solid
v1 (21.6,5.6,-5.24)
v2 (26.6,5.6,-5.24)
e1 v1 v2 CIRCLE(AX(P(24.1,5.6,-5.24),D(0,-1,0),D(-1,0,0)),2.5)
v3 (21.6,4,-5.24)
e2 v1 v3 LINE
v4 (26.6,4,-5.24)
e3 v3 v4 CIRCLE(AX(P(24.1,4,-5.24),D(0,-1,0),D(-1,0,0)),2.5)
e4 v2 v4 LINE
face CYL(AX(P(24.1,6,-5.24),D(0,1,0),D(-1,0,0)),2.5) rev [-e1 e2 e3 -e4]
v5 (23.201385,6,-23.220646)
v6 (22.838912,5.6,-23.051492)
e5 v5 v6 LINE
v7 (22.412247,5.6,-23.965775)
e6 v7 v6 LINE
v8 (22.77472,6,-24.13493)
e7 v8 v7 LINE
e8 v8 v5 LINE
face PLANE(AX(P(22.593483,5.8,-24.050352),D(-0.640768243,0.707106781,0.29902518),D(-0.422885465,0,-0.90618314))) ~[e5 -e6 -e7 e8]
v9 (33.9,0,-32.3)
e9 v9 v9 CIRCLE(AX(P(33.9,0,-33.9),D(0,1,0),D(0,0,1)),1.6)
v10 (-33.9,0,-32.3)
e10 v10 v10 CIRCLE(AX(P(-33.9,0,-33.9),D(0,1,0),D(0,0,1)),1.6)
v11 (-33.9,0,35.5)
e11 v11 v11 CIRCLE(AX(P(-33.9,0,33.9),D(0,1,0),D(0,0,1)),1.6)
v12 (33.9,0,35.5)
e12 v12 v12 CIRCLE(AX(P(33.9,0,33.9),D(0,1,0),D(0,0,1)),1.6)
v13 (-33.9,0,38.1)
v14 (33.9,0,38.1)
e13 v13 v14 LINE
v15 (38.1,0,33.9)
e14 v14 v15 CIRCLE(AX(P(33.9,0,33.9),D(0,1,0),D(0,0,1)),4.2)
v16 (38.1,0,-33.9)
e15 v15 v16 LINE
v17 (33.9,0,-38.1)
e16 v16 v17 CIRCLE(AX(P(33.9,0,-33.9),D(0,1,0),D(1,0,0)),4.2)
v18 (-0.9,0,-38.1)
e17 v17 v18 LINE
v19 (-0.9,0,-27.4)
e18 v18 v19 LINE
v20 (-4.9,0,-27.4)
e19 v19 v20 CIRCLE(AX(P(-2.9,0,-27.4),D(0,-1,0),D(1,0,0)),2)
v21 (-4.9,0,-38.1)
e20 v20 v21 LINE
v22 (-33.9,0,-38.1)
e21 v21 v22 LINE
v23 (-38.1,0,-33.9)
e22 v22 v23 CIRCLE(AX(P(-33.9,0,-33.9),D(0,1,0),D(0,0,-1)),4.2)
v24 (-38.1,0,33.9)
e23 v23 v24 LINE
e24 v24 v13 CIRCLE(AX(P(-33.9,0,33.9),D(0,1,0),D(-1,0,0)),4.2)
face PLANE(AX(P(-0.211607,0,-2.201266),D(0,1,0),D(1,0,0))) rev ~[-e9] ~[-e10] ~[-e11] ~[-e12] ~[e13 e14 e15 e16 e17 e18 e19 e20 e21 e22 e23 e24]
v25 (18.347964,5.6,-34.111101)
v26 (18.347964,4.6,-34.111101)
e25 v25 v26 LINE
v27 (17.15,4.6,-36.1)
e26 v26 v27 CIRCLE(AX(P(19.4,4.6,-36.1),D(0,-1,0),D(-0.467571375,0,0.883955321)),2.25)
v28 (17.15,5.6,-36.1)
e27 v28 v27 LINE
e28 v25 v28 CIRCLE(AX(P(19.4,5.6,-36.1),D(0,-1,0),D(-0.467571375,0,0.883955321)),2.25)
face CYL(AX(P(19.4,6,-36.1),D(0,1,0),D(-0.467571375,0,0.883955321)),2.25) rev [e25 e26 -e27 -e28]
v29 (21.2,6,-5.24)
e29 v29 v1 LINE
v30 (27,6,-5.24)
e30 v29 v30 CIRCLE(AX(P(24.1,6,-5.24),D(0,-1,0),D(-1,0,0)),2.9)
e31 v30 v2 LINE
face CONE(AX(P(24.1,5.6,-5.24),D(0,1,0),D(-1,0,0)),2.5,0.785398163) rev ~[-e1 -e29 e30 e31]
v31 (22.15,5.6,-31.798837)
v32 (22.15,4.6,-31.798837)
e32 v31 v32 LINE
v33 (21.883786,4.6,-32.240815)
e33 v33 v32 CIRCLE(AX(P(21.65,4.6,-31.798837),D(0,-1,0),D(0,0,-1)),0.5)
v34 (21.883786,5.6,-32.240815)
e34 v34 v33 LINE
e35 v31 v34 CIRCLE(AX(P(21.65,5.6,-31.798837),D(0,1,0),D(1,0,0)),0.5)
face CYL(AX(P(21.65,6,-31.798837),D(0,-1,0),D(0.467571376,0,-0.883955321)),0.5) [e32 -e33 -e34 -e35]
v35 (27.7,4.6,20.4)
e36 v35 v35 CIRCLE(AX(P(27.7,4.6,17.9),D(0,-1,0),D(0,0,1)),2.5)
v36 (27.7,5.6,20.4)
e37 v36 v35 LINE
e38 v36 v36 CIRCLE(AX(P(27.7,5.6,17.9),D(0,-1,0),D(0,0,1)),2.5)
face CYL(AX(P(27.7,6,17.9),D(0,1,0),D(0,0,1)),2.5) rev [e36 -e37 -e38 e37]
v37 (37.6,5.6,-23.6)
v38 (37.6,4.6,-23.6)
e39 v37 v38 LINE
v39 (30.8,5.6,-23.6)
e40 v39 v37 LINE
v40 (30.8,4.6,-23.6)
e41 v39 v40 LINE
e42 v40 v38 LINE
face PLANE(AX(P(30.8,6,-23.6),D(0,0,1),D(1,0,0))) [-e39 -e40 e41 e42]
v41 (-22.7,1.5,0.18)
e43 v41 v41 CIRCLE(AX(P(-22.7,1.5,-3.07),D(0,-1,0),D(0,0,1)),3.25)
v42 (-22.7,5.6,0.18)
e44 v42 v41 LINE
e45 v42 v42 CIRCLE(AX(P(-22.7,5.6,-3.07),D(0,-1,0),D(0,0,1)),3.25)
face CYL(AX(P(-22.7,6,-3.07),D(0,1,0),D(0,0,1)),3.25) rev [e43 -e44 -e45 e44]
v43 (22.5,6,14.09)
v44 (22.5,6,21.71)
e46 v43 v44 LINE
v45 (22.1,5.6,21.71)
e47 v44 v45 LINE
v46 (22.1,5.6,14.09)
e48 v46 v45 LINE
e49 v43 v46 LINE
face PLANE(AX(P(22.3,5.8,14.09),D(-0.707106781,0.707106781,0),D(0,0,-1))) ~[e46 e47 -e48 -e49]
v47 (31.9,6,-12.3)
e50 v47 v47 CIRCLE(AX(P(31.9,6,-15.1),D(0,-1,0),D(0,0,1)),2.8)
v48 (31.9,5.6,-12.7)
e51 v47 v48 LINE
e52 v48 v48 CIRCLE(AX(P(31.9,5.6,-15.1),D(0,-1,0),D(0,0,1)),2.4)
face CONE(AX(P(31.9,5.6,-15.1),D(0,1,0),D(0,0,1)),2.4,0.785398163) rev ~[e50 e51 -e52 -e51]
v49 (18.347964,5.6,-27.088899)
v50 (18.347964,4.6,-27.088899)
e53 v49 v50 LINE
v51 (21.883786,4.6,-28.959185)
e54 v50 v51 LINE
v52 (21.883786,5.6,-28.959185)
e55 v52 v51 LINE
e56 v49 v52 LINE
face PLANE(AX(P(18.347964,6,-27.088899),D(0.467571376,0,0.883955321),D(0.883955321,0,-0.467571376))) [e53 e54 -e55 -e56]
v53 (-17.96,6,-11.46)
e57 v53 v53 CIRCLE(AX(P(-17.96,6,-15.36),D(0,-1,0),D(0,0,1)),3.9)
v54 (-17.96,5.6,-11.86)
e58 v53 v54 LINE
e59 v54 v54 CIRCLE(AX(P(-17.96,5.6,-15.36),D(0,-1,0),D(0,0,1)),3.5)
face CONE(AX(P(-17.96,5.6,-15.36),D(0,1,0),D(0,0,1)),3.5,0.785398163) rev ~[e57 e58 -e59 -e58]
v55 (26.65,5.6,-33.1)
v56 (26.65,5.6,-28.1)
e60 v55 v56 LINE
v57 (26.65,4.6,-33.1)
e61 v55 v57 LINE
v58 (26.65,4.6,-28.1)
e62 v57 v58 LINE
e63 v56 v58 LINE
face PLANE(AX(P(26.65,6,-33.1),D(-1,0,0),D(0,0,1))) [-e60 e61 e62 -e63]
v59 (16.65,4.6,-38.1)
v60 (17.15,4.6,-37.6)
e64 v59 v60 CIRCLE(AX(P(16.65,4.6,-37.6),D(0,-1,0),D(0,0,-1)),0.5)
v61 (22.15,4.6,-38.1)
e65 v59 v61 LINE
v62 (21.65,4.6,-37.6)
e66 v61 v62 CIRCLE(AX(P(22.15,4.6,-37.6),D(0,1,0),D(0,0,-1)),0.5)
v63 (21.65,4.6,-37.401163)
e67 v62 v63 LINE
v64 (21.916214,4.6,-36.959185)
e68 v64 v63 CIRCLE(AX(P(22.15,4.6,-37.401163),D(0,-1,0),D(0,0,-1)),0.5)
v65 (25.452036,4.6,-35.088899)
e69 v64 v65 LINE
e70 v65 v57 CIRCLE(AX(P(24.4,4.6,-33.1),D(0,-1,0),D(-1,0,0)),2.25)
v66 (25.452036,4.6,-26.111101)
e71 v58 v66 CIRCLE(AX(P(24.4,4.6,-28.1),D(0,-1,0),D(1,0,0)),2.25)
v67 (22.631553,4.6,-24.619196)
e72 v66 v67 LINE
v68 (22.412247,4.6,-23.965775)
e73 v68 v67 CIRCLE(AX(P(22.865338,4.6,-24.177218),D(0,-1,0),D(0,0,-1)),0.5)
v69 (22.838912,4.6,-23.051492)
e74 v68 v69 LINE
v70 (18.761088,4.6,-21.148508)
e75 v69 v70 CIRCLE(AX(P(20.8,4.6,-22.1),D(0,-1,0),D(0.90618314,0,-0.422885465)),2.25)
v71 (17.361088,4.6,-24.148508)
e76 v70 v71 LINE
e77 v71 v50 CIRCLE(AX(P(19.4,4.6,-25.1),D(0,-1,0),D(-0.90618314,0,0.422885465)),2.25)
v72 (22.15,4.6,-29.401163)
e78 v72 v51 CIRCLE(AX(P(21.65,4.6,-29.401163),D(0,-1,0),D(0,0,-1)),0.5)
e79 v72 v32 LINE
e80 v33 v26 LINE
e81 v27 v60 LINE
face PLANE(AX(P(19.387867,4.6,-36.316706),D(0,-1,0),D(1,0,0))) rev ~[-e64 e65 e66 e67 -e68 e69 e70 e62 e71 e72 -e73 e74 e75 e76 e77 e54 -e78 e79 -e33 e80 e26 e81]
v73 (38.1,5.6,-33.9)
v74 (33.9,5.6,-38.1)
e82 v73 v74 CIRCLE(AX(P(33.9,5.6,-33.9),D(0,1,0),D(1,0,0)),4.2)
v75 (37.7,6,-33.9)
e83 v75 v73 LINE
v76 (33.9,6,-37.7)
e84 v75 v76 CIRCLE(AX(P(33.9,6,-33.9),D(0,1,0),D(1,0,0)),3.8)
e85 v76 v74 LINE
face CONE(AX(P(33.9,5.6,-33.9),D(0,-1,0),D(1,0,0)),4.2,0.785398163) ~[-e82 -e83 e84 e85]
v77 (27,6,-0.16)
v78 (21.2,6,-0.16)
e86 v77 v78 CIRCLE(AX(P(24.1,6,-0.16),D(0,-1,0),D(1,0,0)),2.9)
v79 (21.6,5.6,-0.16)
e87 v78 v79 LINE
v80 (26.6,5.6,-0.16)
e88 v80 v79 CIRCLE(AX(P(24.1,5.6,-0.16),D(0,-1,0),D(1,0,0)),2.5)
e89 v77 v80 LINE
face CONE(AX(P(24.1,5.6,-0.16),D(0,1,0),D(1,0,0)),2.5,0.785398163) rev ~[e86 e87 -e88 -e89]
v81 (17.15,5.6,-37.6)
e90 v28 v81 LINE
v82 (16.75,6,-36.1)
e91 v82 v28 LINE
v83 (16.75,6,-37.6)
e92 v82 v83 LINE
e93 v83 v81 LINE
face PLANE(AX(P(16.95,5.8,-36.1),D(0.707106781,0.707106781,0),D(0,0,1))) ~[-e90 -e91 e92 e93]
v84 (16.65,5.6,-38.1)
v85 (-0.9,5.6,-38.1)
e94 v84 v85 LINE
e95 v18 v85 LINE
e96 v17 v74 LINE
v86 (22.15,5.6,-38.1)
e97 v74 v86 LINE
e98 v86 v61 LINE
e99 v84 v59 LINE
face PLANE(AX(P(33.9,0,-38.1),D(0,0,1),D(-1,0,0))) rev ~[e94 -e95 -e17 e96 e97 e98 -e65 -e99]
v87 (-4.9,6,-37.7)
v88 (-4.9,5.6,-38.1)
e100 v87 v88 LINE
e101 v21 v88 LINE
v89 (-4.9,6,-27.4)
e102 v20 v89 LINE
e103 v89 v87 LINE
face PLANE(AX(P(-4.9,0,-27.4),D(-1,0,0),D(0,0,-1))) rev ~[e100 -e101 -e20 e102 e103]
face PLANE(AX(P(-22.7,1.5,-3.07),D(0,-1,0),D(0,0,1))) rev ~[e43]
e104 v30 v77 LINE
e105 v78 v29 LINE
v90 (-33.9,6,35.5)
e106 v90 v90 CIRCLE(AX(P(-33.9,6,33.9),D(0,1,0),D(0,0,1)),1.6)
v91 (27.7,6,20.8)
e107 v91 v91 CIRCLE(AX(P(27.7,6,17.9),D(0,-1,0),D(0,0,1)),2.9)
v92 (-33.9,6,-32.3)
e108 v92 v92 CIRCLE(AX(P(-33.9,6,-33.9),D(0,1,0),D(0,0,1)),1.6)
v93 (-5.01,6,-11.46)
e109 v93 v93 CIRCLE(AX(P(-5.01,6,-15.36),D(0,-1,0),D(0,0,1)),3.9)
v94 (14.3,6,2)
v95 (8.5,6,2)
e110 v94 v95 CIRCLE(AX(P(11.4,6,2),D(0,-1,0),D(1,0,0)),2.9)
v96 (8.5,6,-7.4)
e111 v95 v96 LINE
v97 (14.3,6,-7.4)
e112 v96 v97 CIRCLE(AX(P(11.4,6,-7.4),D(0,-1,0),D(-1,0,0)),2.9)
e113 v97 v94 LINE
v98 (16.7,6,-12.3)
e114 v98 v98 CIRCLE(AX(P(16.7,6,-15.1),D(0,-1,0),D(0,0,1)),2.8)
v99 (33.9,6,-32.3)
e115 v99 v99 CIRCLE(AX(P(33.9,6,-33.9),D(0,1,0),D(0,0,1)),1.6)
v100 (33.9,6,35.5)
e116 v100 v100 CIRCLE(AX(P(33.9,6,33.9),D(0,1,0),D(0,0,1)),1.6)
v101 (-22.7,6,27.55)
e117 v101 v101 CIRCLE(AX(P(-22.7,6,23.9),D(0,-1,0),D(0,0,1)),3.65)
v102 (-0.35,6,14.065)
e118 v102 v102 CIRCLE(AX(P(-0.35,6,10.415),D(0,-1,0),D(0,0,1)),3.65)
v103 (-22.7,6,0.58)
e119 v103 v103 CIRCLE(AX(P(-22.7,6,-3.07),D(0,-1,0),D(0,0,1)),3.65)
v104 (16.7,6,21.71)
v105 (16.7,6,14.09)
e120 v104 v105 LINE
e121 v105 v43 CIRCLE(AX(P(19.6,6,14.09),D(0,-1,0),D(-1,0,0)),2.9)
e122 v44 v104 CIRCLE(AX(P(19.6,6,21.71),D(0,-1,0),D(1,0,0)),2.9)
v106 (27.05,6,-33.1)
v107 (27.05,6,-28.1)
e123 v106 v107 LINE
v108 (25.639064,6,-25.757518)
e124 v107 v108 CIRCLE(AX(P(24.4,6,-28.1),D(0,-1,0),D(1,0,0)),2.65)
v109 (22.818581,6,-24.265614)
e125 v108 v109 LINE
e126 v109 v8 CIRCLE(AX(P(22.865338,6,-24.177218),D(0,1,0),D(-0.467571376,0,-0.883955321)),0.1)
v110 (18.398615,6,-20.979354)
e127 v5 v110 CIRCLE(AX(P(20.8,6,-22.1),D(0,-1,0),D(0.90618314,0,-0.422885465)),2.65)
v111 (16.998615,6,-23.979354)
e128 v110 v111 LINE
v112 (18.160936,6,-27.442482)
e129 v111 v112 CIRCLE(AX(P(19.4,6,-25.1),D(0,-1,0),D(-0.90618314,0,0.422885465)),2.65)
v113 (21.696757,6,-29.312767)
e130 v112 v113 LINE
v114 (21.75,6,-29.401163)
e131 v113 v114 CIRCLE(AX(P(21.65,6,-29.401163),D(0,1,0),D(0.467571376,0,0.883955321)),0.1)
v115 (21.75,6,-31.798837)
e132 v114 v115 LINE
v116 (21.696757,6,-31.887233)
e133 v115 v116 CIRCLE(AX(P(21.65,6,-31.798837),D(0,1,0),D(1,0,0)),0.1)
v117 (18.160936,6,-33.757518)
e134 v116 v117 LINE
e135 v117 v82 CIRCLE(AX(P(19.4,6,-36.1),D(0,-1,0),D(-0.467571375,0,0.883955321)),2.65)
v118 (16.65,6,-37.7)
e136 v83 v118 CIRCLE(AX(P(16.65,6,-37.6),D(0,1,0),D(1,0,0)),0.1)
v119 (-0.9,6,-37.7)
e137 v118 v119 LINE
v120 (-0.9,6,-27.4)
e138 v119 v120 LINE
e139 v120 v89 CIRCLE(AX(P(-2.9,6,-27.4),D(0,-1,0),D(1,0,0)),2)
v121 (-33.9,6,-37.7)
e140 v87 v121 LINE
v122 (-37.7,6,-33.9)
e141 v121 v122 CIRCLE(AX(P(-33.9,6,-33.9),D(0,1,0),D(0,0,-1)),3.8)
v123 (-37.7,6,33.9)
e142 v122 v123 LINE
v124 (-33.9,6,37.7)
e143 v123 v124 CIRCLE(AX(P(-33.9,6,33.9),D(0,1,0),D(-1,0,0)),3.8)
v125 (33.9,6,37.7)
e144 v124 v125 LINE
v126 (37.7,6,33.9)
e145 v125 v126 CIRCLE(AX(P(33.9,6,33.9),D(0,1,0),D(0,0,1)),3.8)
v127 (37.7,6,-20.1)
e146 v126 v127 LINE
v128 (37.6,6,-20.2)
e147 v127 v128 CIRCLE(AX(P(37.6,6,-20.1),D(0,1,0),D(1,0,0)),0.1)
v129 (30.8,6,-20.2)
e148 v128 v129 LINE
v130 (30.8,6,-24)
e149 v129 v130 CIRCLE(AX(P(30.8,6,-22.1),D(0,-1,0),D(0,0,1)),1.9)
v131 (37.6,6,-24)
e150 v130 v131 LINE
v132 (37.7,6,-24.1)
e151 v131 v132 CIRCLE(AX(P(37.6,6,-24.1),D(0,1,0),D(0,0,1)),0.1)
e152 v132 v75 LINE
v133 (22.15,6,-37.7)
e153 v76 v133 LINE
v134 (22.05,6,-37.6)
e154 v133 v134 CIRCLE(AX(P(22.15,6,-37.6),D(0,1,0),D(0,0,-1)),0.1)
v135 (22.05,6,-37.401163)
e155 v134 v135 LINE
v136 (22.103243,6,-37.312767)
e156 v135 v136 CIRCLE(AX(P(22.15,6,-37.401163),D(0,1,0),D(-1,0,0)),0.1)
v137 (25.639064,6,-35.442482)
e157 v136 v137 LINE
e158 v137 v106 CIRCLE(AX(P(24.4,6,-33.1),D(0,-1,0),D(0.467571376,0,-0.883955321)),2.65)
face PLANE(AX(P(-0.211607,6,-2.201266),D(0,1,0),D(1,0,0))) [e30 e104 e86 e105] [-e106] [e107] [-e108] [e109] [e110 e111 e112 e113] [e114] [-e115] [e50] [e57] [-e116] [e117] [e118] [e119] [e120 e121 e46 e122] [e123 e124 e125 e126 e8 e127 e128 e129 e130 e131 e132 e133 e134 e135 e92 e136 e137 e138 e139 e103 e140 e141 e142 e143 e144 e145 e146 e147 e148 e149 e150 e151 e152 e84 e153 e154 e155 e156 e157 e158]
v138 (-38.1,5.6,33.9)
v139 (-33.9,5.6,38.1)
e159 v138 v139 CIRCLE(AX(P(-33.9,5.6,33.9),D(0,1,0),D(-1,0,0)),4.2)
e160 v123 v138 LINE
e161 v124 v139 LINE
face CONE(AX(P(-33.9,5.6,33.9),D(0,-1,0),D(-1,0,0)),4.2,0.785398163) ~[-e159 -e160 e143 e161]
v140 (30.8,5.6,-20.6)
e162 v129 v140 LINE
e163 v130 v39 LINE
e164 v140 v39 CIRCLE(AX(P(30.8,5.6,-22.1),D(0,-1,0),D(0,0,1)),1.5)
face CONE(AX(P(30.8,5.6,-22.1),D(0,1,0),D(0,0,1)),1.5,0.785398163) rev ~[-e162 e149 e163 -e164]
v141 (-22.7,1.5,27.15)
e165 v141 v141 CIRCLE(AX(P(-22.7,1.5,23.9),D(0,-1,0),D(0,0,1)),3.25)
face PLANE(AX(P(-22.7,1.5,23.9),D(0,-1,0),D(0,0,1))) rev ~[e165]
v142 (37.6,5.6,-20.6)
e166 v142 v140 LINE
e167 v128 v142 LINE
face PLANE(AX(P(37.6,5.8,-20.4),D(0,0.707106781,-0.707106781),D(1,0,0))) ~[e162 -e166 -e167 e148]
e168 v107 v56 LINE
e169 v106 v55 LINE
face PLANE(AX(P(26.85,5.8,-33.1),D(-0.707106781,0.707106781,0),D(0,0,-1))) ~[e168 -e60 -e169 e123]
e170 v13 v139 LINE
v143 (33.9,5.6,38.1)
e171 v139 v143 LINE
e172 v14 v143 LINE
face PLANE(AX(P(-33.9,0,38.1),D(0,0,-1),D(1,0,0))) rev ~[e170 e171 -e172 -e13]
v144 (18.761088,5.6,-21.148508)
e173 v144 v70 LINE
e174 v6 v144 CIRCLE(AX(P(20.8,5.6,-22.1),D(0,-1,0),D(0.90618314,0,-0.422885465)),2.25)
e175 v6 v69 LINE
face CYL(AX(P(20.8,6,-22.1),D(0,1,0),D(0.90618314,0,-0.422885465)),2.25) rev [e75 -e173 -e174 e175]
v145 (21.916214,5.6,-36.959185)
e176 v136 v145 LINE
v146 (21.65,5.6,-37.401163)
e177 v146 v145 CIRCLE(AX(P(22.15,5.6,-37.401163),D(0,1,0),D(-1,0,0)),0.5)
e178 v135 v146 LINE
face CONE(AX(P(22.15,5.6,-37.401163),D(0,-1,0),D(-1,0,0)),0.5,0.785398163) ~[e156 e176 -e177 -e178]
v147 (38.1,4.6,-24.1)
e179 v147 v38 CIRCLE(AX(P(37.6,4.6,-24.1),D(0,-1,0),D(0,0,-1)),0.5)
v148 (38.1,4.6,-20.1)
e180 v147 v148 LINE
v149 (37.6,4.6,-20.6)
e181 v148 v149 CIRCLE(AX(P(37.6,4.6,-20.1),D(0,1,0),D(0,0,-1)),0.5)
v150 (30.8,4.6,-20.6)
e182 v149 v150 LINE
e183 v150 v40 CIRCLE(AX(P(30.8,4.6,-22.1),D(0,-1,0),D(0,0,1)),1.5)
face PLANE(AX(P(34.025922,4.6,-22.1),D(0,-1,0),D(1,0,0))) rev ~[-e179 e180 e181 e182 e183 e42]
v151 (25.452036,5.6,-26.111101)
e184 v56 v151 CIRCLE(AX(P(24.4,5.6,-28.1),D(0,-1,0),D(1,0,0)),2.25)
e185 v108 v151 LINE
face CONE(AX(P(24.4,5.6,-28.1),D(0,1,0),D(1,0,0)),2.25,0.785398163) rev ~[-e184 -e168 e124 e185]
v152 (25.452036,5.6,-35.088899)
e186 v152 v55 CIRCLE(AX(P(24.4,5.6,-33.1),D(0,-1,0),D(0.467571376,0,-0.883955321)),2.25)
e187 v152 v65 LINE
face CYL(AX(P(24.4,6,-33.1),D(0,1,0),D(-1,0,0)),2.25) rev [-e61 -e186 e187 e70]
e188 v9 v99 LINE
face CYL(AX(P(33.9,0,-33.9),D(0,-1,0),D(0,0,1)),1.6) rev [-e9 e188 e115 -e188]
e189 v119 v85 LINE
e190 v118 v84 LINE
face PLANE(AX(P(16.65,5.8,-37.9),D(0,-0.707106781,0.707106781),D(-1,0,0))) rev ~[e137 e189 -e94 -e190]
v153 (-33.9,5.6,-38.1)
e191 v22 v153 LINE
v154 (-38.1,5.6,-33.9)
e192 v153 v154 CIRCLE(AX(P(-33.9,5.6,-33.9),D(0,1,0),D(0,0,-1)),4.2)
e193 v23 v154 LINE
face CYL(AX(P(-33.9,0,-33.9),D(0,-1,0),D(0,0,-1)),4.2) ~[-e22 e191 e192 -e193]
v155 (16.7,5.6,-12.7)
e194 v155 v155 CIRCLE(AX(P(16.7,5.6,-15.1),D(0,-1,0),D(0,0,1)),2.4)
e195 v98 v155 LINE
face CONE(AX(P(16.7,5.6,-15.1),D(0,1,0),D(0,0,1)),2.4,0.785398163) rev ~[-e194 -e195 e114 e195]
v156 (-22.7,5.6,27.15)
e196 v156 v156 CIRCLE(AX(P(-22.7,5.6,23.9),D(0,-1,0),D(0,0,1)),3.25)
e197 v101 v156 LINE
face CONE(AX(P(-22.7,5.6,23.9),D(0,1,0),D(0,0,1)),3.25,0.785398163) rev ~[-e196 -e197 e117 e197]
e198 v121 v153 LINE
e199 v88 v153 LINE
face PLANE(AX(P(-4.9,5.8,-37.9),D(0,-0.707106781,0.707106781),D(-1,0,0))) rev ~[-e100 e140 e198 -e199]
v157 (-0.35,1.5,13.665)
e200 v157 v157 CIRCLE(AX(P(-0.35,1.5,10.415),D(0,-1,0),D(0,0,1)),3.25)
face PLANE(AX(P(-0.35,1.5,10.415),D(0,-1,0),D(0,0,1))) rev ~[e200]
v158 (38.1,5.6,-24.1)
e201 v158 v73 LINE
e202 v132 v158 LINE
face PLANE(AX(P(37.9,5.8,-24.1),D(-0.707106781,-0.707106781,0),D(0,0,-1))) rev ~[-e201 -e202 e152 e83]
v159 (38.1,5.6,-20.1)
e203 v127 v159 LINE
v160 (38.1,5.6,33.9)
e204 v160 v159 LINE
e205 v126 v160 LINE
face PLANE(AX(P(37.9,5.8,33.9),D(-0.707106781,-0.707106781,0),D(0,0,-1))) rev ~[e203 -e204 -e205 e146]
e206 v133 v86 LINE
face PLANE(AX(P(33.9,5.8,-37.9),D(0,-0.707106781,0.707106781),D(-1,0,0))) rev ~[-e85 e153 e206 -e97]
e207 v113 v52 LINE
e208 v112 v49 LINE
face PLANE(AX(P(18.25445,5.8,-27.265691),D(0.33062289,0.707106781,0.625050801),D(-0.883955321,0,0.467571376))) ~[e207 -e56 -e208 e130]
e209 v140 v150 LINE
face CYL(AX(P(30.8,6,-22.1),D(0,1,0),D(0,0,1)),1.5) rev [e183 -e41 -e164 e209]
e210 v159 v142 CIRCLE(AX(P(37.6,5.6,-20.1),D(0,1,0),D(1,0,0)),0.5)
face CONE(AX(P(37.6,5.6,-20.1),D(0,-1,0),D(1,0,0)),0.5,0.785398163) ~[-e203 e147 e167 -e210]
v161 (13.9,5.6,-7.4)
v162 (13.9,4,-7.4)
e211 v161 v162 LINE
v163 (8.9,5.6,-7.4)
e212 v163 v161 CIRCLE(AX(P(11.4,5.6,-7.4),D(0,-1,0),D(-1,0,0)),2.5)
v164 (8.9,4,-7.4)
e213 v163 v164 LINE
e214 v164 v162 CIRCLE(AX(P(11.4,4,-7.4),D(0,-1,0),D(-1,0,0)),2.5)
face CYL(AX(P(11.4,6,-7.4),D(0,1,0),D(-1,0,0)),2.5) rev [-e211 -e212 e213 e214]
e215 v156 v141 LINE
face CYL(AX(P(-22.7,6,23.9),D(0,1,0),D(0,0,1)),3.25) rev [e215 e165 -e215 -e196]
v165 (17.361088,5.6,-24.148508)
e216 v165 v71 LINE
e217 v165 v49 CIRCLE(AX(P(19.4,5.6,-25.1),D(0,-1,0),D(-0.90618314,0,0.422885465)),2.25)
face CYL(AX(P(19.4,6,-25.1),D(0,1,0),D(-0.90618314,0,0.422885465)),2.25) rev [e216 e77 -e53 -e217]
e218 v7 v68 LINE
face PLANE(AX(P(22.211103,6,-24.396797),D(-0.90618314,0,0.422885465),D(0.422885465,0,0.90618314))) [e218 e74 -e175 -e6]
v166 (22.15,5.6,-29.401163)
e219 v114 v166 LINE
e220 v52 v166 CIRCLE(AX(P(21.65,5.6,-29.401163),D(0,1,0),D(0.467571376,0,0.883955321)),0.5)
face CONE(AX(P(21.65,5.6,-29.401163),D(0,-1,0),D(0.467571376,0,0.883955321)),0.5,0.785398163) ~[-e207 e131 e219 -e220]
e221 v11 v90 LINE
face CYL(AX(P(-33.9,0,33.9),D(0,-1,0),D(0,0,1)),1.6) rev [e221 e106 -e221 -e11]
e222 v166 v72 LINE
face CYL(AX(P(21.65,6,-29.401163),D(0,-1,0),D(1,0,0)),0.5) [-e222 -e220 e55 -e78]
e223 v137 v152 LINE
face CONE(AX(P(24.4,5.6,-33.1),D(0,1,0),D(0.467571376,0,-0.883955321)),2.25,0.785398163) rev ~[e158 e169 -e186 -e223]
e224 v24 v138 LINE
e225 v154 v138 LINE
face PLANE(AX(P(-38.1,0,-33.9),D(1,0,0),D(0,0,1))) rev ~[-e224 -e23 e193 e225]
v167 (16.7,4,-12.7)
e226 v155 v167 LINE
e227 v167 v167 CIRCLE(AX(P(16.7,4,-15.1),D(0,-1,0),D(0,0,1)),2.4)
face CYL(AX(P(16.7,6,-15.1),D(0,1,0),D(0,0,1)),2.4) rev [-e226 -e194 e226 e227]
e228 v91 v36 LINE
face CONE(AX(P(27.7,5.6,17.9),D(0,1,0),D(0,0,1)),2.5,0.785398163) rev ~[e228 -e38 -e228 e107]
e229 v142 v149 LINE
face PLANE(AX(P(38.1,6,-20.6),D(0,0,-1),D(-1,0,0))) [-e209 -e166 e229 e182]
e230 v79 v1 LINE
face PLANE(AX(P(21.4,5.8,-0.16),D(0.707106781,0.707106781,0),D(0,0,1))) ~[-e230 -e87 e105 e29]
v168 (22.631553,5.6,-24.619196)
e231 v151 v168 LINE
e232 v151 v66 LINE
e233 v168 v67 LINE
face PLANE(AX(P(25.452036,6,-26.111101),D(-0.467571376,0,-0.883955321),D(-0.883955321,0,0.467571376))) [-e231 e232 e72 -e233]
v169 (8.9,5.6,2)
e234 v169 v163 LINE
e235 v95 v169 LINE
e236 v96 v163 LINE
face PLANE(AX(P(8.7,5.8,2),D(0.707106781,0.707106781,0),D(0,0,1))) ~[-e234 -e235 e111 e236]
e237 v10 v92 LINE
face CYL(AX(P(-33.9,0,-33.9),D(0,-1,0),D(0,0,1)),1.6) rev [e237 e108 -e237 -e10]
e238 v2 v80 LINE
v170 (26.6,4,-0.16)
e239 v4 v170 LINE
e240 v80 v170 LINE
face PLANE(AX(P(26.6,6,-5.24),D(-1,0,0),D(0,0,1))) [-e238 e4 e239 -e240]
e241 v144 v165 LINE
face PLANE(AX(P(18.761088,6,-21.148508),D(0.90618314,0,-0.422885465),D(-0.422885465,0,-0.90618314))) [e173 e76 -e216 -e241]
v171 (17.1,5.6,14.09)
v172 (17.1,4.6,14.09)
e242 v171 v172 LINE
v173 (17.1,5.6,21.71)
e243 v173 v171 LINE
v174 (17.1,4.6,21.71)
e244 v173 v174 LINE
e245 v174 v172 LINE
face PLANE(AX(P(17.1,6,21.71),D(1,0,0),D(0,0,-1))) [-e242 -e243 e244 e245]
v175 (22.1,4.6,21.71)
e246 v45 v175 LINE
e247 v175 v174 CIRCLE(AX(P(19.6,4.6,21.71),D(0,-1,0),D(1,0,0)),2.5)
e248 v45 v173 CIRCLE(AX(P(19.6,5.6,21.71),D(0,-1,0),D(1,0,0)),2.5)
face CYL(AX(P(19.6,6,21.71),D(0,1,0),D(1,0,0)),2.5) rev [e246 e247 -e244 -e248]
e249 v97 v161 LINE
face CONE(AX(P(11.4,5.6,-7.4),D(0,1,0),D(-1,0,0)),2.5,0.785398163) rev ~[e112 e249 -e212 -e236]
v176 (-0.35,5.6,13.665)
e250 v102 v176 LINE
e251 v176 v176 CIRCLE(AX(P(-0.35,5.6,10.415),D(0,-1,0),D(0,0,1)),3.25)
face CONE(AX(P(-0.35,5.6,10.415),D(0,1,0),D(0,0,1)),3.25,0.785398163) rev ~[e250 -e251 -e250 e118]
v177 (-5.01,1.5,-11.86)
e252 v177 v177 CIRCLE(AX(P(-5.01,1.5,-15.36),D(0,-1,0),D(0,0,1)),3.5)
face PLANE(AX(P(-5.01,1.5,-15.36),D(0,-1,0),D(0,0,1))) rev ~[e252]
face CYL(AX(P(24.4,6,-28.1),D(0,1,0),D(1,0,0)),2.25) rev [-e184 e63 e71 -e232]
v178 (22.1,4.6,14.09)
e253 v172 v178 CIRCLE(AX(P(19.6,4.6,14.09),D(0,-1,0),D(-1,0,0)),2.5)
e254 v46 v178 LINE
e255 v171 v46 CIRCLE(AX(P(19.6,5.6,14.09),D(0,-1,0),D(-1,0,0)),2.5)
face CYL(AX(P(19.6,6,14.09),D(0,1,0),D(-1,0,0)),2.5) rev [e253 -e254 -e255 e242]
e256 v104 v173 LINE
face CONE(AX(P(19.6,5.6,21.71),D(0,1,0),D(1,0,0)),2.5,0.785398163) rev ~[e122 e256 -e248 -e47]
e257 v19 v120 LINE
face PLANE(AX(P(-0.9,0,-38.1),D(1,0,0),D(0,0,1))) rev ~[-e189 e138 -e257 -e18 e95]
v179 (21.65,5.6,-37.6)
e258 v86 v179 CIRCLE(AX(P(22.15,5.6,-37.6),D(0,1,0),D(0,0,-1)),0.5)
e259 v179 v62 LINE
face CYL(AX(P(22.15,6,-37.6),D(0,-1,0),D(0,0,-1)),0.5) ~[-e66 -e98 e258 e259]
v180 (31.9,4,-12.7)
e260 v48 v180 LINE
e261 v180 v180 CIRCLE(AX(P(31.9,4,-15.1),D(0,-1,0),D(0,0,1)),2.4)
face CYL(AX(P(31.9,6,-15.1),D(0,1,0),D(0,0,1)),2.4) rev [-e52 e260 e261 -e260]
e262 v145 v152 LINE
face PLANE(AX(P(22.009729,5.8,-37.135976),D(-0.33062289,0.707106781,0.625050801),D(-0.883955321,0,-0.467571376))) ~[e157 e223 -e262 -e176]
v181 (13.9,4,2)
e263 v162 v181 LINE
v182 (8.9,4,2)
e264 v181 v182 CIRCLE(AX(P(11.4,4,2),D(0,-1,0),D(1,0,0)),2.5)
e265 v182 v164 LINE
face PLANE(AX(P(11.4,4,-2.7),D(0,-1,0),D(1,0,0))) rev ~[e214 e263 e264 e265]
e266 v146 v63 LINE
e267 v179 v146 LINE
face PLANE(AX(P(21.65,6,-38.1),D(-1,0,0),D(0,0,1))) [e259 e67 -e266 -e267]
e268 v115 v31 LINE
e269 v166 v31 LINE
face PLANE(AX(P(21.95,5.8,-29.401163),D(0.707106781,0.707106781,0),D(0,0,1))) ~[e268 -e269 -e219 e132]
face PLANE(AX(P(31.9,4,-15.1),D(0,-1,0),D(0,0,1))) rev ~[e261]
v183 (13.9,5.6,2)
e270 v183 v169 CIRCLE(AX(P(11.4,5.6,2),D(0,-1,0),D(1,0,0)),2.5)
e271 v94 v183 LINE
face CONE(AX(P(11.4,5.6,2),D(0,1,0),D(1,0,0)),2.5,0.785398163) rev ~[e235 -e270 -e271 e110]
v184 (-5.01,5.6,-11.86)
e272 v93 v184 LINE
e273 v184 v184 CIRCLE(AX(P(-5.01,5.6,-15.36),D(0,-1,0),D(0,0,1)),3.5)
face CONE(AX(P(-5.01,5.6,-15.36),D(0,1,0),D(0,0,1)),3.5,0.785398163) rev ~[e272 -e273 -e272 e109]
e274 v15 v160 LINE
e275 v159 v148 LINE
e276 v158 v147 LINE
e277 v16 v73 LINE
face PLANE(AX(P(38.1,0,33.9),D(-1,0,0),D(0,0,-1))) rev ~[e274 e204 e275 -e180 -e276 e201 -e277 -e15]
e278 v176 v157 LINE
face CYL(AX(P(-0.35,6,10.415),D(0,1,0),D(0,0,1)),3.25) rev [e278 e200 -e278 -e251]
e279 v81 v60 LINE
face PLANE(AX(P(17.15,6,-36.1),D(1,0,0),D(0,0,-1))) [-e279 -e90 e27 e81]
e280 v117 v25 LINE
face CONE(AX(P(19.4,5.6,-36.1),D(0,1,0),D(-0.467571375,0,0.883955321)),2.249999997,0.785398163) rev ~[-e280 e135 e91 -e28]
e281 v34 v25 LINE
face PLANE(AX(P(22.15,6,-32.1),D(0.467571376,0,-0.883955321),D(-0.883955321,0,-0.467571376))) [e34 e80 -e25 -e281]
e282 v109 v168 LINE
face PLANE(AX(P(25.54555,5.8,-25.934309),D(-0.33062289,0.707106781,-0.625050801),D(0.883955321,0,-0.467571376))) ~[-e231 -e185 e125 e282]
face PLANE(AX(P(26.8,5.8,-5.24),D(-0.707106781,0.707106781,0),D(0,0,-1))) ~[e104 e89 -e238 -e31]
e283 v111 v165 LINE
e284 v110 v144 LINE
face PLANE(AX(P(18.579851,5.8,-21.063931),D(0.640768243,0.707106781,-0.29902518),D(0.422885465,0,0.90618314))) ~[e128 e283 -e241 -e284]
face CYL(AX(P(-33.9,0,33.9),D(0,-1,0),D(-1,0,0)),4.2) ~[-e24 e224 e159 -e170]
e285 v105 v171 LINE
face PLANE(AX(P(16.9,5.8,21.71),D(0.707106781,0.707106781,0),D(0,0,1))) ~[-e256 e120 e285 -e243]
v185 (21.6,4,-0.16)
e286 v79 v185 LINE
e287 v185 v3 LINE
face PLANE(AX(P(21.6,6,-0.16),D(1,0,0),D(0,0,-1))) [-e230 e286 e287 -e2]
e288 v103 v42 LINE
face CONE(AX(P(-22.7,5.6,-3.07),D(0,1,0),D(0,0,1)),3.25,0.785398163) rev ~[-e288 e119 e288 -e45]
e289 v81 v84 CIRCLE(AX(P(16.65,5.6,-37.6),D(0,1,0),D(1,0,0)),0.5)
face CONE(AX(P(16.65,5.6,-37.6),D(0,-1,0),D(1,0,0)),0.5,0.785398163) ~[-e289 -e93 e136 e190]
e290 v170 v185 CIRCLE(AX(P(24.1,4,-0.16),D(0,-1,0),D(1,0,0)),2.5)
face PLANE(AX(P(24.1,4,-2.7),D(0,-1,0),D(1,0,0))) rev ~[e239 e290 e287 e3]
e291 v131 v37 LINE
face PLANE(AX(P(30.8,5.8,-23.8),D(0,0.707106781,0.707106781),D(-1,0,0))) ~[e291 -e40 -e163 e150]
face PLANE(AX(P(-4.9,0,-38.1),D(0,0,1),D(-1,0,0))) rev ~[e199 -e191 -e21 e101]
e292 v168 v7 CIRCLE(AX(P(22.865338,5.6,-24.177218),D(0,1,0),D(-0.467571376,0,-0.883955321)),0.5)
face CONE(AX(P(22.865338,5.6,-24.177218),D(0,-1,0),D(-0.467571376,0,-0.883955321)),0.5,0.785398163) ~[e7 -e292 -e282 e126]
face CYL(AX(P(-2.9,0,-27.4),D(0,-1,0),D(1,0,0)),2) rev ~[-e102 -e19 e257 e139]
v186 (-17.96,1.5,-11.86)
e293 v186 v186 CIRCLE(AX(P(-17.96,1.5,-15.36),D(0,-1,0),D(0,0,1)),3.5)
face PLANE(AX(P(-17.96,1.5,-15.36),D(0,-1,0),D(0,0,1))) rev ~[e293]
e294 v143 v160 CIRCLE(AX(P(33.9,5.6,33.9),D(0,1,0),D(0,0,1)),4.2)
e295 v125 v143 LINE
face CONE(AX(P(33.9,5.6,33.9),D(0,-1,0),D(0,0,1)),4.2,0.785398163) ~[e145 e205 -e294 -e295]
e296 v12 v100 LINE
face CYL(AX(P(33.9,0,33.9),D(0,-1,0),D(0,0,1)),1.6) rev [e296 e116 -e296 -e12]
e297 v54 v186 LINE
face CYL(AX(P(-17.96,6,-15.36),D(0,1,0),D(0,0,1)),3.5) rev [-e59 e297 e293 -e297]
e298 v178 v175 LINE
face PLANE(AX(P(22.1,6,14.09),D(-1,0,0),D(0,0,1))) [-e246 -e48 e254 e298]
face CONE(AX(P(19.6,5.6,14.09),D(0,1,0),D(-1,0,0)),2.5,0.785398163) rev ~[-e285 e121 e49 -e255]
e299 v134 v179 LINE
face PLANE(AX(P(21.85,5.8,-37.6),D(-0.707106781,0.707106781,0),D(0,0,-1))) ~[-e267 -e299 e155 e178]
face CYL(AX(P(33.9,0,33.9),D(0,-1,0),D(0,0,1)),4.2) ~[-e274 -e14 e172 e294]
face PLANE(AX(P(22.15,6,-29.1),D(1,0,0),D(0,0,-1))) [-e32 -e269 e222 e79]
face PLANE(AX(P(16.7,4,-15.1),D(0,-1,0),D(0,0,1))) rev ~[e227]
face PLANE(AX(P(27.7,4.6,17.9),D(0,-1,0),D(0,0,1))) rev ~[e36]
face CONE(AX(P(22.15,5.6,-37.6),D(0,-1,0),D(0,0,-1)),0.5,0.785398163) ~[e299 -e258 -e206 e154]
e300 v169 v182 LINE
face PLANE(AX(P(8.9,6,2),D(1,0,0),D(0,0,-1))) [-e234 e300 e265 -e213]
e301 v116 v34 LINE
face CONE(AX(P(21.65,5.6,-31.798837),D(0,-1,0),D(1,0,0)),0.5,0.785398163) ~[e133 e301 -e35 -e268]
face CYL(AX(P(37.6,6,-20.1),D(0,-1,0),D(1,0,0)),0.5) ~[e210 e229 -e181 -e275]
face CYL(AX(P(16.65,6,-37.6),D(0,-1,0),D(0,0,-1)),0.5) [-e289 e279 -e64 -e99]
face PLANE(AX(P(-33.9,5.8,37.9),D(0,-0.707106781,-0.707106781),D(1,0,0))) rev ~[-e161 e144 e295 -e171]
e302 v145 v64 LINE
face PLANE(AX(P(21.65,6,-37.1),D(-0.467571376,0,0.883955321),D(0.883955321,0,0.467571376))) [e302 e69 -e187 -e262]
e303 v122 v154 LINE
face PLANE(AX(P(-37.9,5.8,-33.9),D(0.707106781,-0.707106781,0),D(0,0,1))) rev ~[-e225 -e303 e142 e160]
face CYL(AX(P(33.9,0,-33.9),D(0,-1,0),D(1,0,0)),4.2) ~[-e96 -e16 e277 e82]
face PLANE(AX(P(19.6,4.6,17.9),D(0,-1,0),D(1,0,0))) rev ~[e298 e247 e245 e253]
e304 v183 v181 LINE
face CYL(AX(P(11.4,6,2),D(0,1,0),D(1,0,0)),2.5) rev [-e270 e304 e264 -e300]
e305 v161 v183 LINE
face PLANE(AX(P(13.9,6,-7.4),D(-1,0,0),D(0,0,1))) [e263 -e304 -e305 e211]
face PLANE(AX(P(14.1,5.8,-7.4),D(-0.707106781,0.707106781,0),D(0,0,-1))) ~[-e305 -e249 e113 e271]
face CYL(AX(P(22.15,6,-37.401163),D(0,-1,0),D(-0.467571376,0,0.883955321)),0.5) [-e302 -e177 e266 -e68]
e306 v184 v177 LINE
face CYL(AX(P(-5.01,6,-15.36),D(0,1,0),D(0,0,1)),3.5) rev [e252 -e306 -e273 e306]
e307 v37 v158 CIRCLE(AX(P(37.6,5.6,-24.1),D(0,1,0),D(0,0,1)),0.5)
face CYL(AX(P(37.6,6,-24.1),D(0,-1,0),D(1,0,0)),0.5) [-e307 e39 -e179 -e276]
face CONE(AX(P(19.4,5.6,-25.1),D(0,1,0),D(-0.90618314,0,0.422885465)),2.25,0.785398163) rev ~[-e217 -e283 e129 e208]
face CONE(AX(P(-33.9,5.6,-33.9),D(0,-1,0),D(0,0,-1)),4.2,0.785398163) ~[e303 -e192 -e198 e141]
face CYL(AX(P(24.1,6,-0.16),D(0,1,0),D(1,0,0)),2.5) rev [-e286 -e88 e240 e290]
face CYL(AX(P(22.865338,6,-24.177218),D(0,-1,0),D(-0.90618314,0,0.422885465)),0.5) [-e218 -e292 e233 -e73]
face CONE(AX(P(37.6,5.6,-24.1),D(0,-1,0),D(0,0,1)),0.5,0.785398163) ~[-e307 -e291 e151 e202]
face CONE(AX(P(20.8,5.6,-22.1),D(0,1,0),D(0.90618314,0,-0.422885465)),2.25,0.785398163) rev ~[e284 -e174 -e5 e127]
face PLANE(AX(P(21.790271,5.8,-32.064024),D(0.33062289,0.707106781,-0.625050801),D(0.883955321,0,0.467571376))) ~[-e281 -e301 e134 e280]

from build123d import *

# Parameters (mm, degrees)
BASE_PLATE_R        = 1.6
EXTRUDE_1_DEPTH     = 6
CUT_EXTRUDE_START   = -6
SKETCH_1_R          = 3.25
SKETCH_1_R_2        = 3.5
CUT_EXTRUDE_1_DEPTH = 4.5
SKETCH_1_6_R        = 2.4
CUT_EXTRUDE_2_DEPTH = 2
SKETCH_1_7_R        = 2.5
CUT_EXTRUDE_3_DEPTH = 1.4
FILLET_2_R          = 0.5
CHAMFER_1_SIZE      = 0.4


with BuildPart() as part:
    # Base plate → 凸台-拉伸1 (new body)
    with BuildSketch(Plane(origin=(0, 0, 0), x_dir=(1, 0, 0), z_dir=(0, 1, 0))):
        with BuildLine():
            ThreePointArc((-38.1, -33.9), (-36.869848481, -36.869848481), (-33.9, -38.1))
            Line((-33.9, -38.1), (33.9, -38.1))
            ThreePointArc((33.9, -38.1), (36.869848481, -36.869848481), (38.1, -33.9))
            Line((38.1, -33.9), (38.1, 33.9))
            ThreePointArc((38.1, 33.9), (36.869848481, 36.869848481), (33.9, 38.1))
            Line((33.9, 38.1), (-0.9, 38.1))
            Line((-0.9, 38.1), (-0.9, 27.4))
            ThreePointArc((-0.9, 27.4), (-2.9, 25.4), (-4.9, 27.4))
            Line((-4.9, 27.4), (-4.9, 38.1))
            Line((-4.9, 38.1), (-33.9, 38.1))
            ThreePointArc((-33.9, 38.1), (-36.869848481, 36.869848481), (-38.1, 33.9))
            Line((-38.1, 33.9), (-38.1, -33.9))
        make_face()
        with Locations(Location((-33.9, -33.9, 0), (0, 0, 270))):
            Circle(BASE_PLATE_R, mode=Mode.SUBTRACT)
        with Locations(Location((33.9, -33.9, 0), (0, 0, 270))):
            Circle(BASE_PLATE_R, mode=Mode.SUBTRACT)
        with Locations(Location((-33.9, 33.9, 0), (0, 0, 270))):
            Circle(BASE_PLATE_R, mode=Mode.SUBTRACT)
        with Locations(Location((33.9, 33.9, 0), (0, 0, 270))):
            Circle(BASE_PLATE_R, mode=Mode.SUBTRACT)
    extrude(amount=EXTRUDE_1_DEPTH)

    # 草图1 → 切除-拉伸1 (cut)
    with BuildSketch(Plane.XZ.offset(CUT_EXTRUDE_START)):
        with Locations(Location((-0.35, 10.415, 0), (0, 0, 90))):
            Circle(SKETCH_1_R)
        with Locations(Location((-22.7, 23.9, 0), (0, 0, 90))):
            Circle(SKETCH_1_R)
        with Locations(Location((-22.7, -3.07, 0), (0, 0, 90))):
            Circle(SKETCH_1_R)
        with Locations(Location((-17.96, -15.36, 0), (0, 0, 90))):
            Circle(SKETCH_1_R_2)
        with Locations(Location((-5.01, -15.36, 0), (0, 0, 90))):
            Circle(SKETCH_1_R_2)
    extrude(amount=CUT_EXTRUDE_1_DEPTH, mode=Mode.SUBTRACT)

    # 草图1<6> → 切除-拉伸2 (cut)
    with BuildSketch(Plane.XZ.offset(CUT_EXTRUDE_START)):
        with BuildLine():
            Line((8.9, 2), (8.9, -7.4))
            ThreePointArc((8.9, -7.4), (11.4, -9.9), (13.9, -7.4))
            Line((13.9, -7.4), (13.9, 2))
            ThreePointArc((13.9, 2), (11.4, 4.5), (8.9, 2))
        make_face()
        with BuildLine():
            Line((21.6, -0.16), (21.6, -5.24))
            ThreePointArc((21.6, -5.24), (24.1, -7.74), (26.6, -5.24))
            Line((26.6, -5.24), (26.6, -0.16))
            ThreePointArc((26.6, -0.16), (24.1, 2.34), (21.6, -0.16))
        make_face()
        with Locations(Location((31.9, -15.1, 0), (0, 0, 90))):
            Circle(SKETCH_1_6_R)
        with Locations(Location((16.7, -15.1, 0), (0, 0, 90))):
            Circle(SKETCH_1_6_R)
    extrude(amount=CUT_EXTRUDE_2_DEPTH, mode=Mode.SUBTRACT)

    # 草图1<7> → 切除-拉伸3 (cut)
    with BuildSketch(Plane.XZ.offset(CUT_EXTRUDE_START)):
        with BuildLine():
            Line((21.65, -38.1), (21.65, -37.1))
            Line((21.65, -37.1), (21.65, -36.1))
            ThreePointArc((21.65, -36.1), (20.560909108, -34.172620939), (18.347964405, -34.111100529))
            ThreePointArc((18.347964405, -34.111100529), (17.472620939, -34.939090892), (17.15, -36.1))
            Line((17.15, -36.1), (17.15, -38.1))
            Line((17.15, -38.1), (21.65, -38.1))
        make_face()
        with BuildLine():
            Line((21.65, -37.1), (25.452035595, -35.088899471))
            ThreePointArc((25.452035595, -35.088899471), (23.239090892, -35.027379061), (22.15, -33.1))
            Line((22.15, -33.1), (22.15, -32.1))
            Line((22.15, -32.1), (18.347964405, -34.111100529))
            ThreePointArc((18.347964405, -34.111100529), (20.560909108, -34.172620939), (21.65, -36.1))
            Line((21.65, -36.1), (21.65, -37.1))
        make_face()
        with BuildLine():
            ThreePointArc((22.15, -33.1), (24.4, -35.35), (26.65, -33.1))
            Line((26.65, -33.1), (26.65, -28.1))
            ThreePointArc((26.65, -28.1), (24.4, -25.85), (22.15, -28.1))
            Line((22.15, -28.1), (22.15, -33.1))
        make_face()
        with BuildLine():
            ThreePointArc((22.15, -28.1), (23.239090892, -26.172620939), (25.452035595, -26.111100529))
            Line((25.452035595, -26.111100529), (22.211102988, -24.396797462))
            Line((22.211102988, -24.396797462), (21.438912065, -26.051492297))
            ThreePointArc((21.438912065, -26.051492297), (20.115915291, -27.233064766), (18.347964405, -27.088899471))
            Line((18.347964405, -27.088899471), (22.15, -29.1))
            Line((22.15, -29.1), (22.15, -28.1))
        make_face()
        with BuildLine():
            Line((18.761087935, -21.148507703), (17.361087935, -24.148507703))
            ThreePointArc((17.361087935, -24.148507703), (18.448507703, -27.138912065), (21.438912065, -26.051492297))
            Line((21.438912065, -26.051492297), (22.838912065, -23.051492297))
            ThreePointArc((22.838912065, -23.051492297), (21.751492297, -20.061087935), (18.761087935, -21.148507703))
        make_face()
        with BuildLine():
            Line((38.1, -20.6), (30.8, -20.6))
            ThreePointArc((30.8, -20.6), (29.3, -22.1), (30.8, -23.6))
            Line((30.8, -23.6), (38.1, -23.6))
            Line((38.1, -23.6), (38.1, -20.6))
        make_face()
        with BuildLine():
            Line((17.1, 21.71), (17.1, 14.09))
            ThreePointArc((17.1, 14.09), (19.6, 11.59), (22.1, 14.09))
            Line((22.1, 14.09), (22.1, 21.71))
            ThreePointArc((22.1, 21.71), (19.6, 24.21), (17.1, 21.71))
        make_face()
        with Locations(Location((27.7, 17.9, 0), (0, 0, 90))):
            Circle(SKETCH_1_7_R)
    extrude(amount=CUT_EXTRUDE_3_DEPTH, mode=Mode.SUBTRACT)

    # 圆角2
    fillet_2_edges = [part.edges().sort_by_distance(p)[0] for p in [
        (38.1, 5.3, -23.6),
        (38.1, 5.3, -20.6),
        (21.65, 5.3, -38.1),
        (21.65, 5.3, -37.1),
        (22.211102988, 5.3, -24.396797462),
        (22.15, 5.3, -29.1),
        (22.15, 5.3, -32.1),
        (17.15, 5.3, -38.1),
    ]]
    fillet(fillet_2_edges, radius=FILLET_2_R)

    # 倒角1
    chamfer_1_edges = [part.edges().sort_by_distance(p)[0] for p in [
        (29.3, 6, -22.1),
        (22.1, 6, 17.9),
        (19.6, 6, 11.59),
        (17.1, 6, 17.9),
        (19.6, 6, 24.21),
        (27.7, 6, 15.4),
        (26.65, 6, -30.6),
        (17.472620939, 6, -34.939090892),
        (17.266935234, 6, -25.815915291),
        (18.061087935, 6, -22.648507703),
        (21.751492297, 6, -20.061087935),
        (26.327379061, 6, -26.939090892),
        (26.327379061, 6, -34.260909108),
        (28.025, 6, -38.1),
        (34.2, 6, -20.6),
        (34.2, 6, -23.6),
        (38.1, 6, -29),
        (21.65, 6, -37.500581317),
        (23.684124954, 6, -36.024042222),
        (24.041794054, 6, -25.365148146),
        (22.625579348, 6, -23.508633834),
        (20.115875046, 6, -28.024042222),
        (22.15, 6, -30.6),
        (20.115875046, 6, -33.175957778),
        (17.15, 6, -36.85),
        (22.391323808, 6, -24.336310391),
        (22.078306458, 6, -29.143182832),
        (22.078306458, 6, -32.056817168),
        (21.721693542, 6, -37.143182832),
        (37.953553391, 6, -20.453553391),
        (37.953553391, 6, -23.746446609),
        (17.003553391, 6, -37.953553391),
        (21.796446609, 6, -37.953553391),
        (-19.4, 6, -38.1),
        (-36.869848481, 6, -36.869848481),
        (-38.1, 6, 0),
        (-36.869848481, 6, 36.869848481),
        (0, 6, 38.1),
        (36.869848481, 6, 36.869848481),
        (38.1, 6, 6.9),
        (36.869848481, 6, -36.869848481),
        (-5.01, 6, -18.86),
        (-17.96, 6, -18.86),
        (-22.7, 6, -6.32),
        (7.875, 6, -38.1),
        (-22.7, 6, 20.65),
        (-0.35, 6, 7.165),
        (13.9, 6, -2.7),
        (11.4, 6, -9.9),
        (8.9, 6, -2.7),
        (11.4, 6, 4.5),
        (26.6, 6, -2.7),
        (24.1, 6, -7.74),
        (21.6, 6, -2.7),
        (24.1, 6, 2.34),
        (31.9, 6, -17.5),
        (16.7, 6, -17.5),
    ]]
    chamfer(chamfer_1_edges, length=CHAMFER_1_SIZE)


solid = part.part
